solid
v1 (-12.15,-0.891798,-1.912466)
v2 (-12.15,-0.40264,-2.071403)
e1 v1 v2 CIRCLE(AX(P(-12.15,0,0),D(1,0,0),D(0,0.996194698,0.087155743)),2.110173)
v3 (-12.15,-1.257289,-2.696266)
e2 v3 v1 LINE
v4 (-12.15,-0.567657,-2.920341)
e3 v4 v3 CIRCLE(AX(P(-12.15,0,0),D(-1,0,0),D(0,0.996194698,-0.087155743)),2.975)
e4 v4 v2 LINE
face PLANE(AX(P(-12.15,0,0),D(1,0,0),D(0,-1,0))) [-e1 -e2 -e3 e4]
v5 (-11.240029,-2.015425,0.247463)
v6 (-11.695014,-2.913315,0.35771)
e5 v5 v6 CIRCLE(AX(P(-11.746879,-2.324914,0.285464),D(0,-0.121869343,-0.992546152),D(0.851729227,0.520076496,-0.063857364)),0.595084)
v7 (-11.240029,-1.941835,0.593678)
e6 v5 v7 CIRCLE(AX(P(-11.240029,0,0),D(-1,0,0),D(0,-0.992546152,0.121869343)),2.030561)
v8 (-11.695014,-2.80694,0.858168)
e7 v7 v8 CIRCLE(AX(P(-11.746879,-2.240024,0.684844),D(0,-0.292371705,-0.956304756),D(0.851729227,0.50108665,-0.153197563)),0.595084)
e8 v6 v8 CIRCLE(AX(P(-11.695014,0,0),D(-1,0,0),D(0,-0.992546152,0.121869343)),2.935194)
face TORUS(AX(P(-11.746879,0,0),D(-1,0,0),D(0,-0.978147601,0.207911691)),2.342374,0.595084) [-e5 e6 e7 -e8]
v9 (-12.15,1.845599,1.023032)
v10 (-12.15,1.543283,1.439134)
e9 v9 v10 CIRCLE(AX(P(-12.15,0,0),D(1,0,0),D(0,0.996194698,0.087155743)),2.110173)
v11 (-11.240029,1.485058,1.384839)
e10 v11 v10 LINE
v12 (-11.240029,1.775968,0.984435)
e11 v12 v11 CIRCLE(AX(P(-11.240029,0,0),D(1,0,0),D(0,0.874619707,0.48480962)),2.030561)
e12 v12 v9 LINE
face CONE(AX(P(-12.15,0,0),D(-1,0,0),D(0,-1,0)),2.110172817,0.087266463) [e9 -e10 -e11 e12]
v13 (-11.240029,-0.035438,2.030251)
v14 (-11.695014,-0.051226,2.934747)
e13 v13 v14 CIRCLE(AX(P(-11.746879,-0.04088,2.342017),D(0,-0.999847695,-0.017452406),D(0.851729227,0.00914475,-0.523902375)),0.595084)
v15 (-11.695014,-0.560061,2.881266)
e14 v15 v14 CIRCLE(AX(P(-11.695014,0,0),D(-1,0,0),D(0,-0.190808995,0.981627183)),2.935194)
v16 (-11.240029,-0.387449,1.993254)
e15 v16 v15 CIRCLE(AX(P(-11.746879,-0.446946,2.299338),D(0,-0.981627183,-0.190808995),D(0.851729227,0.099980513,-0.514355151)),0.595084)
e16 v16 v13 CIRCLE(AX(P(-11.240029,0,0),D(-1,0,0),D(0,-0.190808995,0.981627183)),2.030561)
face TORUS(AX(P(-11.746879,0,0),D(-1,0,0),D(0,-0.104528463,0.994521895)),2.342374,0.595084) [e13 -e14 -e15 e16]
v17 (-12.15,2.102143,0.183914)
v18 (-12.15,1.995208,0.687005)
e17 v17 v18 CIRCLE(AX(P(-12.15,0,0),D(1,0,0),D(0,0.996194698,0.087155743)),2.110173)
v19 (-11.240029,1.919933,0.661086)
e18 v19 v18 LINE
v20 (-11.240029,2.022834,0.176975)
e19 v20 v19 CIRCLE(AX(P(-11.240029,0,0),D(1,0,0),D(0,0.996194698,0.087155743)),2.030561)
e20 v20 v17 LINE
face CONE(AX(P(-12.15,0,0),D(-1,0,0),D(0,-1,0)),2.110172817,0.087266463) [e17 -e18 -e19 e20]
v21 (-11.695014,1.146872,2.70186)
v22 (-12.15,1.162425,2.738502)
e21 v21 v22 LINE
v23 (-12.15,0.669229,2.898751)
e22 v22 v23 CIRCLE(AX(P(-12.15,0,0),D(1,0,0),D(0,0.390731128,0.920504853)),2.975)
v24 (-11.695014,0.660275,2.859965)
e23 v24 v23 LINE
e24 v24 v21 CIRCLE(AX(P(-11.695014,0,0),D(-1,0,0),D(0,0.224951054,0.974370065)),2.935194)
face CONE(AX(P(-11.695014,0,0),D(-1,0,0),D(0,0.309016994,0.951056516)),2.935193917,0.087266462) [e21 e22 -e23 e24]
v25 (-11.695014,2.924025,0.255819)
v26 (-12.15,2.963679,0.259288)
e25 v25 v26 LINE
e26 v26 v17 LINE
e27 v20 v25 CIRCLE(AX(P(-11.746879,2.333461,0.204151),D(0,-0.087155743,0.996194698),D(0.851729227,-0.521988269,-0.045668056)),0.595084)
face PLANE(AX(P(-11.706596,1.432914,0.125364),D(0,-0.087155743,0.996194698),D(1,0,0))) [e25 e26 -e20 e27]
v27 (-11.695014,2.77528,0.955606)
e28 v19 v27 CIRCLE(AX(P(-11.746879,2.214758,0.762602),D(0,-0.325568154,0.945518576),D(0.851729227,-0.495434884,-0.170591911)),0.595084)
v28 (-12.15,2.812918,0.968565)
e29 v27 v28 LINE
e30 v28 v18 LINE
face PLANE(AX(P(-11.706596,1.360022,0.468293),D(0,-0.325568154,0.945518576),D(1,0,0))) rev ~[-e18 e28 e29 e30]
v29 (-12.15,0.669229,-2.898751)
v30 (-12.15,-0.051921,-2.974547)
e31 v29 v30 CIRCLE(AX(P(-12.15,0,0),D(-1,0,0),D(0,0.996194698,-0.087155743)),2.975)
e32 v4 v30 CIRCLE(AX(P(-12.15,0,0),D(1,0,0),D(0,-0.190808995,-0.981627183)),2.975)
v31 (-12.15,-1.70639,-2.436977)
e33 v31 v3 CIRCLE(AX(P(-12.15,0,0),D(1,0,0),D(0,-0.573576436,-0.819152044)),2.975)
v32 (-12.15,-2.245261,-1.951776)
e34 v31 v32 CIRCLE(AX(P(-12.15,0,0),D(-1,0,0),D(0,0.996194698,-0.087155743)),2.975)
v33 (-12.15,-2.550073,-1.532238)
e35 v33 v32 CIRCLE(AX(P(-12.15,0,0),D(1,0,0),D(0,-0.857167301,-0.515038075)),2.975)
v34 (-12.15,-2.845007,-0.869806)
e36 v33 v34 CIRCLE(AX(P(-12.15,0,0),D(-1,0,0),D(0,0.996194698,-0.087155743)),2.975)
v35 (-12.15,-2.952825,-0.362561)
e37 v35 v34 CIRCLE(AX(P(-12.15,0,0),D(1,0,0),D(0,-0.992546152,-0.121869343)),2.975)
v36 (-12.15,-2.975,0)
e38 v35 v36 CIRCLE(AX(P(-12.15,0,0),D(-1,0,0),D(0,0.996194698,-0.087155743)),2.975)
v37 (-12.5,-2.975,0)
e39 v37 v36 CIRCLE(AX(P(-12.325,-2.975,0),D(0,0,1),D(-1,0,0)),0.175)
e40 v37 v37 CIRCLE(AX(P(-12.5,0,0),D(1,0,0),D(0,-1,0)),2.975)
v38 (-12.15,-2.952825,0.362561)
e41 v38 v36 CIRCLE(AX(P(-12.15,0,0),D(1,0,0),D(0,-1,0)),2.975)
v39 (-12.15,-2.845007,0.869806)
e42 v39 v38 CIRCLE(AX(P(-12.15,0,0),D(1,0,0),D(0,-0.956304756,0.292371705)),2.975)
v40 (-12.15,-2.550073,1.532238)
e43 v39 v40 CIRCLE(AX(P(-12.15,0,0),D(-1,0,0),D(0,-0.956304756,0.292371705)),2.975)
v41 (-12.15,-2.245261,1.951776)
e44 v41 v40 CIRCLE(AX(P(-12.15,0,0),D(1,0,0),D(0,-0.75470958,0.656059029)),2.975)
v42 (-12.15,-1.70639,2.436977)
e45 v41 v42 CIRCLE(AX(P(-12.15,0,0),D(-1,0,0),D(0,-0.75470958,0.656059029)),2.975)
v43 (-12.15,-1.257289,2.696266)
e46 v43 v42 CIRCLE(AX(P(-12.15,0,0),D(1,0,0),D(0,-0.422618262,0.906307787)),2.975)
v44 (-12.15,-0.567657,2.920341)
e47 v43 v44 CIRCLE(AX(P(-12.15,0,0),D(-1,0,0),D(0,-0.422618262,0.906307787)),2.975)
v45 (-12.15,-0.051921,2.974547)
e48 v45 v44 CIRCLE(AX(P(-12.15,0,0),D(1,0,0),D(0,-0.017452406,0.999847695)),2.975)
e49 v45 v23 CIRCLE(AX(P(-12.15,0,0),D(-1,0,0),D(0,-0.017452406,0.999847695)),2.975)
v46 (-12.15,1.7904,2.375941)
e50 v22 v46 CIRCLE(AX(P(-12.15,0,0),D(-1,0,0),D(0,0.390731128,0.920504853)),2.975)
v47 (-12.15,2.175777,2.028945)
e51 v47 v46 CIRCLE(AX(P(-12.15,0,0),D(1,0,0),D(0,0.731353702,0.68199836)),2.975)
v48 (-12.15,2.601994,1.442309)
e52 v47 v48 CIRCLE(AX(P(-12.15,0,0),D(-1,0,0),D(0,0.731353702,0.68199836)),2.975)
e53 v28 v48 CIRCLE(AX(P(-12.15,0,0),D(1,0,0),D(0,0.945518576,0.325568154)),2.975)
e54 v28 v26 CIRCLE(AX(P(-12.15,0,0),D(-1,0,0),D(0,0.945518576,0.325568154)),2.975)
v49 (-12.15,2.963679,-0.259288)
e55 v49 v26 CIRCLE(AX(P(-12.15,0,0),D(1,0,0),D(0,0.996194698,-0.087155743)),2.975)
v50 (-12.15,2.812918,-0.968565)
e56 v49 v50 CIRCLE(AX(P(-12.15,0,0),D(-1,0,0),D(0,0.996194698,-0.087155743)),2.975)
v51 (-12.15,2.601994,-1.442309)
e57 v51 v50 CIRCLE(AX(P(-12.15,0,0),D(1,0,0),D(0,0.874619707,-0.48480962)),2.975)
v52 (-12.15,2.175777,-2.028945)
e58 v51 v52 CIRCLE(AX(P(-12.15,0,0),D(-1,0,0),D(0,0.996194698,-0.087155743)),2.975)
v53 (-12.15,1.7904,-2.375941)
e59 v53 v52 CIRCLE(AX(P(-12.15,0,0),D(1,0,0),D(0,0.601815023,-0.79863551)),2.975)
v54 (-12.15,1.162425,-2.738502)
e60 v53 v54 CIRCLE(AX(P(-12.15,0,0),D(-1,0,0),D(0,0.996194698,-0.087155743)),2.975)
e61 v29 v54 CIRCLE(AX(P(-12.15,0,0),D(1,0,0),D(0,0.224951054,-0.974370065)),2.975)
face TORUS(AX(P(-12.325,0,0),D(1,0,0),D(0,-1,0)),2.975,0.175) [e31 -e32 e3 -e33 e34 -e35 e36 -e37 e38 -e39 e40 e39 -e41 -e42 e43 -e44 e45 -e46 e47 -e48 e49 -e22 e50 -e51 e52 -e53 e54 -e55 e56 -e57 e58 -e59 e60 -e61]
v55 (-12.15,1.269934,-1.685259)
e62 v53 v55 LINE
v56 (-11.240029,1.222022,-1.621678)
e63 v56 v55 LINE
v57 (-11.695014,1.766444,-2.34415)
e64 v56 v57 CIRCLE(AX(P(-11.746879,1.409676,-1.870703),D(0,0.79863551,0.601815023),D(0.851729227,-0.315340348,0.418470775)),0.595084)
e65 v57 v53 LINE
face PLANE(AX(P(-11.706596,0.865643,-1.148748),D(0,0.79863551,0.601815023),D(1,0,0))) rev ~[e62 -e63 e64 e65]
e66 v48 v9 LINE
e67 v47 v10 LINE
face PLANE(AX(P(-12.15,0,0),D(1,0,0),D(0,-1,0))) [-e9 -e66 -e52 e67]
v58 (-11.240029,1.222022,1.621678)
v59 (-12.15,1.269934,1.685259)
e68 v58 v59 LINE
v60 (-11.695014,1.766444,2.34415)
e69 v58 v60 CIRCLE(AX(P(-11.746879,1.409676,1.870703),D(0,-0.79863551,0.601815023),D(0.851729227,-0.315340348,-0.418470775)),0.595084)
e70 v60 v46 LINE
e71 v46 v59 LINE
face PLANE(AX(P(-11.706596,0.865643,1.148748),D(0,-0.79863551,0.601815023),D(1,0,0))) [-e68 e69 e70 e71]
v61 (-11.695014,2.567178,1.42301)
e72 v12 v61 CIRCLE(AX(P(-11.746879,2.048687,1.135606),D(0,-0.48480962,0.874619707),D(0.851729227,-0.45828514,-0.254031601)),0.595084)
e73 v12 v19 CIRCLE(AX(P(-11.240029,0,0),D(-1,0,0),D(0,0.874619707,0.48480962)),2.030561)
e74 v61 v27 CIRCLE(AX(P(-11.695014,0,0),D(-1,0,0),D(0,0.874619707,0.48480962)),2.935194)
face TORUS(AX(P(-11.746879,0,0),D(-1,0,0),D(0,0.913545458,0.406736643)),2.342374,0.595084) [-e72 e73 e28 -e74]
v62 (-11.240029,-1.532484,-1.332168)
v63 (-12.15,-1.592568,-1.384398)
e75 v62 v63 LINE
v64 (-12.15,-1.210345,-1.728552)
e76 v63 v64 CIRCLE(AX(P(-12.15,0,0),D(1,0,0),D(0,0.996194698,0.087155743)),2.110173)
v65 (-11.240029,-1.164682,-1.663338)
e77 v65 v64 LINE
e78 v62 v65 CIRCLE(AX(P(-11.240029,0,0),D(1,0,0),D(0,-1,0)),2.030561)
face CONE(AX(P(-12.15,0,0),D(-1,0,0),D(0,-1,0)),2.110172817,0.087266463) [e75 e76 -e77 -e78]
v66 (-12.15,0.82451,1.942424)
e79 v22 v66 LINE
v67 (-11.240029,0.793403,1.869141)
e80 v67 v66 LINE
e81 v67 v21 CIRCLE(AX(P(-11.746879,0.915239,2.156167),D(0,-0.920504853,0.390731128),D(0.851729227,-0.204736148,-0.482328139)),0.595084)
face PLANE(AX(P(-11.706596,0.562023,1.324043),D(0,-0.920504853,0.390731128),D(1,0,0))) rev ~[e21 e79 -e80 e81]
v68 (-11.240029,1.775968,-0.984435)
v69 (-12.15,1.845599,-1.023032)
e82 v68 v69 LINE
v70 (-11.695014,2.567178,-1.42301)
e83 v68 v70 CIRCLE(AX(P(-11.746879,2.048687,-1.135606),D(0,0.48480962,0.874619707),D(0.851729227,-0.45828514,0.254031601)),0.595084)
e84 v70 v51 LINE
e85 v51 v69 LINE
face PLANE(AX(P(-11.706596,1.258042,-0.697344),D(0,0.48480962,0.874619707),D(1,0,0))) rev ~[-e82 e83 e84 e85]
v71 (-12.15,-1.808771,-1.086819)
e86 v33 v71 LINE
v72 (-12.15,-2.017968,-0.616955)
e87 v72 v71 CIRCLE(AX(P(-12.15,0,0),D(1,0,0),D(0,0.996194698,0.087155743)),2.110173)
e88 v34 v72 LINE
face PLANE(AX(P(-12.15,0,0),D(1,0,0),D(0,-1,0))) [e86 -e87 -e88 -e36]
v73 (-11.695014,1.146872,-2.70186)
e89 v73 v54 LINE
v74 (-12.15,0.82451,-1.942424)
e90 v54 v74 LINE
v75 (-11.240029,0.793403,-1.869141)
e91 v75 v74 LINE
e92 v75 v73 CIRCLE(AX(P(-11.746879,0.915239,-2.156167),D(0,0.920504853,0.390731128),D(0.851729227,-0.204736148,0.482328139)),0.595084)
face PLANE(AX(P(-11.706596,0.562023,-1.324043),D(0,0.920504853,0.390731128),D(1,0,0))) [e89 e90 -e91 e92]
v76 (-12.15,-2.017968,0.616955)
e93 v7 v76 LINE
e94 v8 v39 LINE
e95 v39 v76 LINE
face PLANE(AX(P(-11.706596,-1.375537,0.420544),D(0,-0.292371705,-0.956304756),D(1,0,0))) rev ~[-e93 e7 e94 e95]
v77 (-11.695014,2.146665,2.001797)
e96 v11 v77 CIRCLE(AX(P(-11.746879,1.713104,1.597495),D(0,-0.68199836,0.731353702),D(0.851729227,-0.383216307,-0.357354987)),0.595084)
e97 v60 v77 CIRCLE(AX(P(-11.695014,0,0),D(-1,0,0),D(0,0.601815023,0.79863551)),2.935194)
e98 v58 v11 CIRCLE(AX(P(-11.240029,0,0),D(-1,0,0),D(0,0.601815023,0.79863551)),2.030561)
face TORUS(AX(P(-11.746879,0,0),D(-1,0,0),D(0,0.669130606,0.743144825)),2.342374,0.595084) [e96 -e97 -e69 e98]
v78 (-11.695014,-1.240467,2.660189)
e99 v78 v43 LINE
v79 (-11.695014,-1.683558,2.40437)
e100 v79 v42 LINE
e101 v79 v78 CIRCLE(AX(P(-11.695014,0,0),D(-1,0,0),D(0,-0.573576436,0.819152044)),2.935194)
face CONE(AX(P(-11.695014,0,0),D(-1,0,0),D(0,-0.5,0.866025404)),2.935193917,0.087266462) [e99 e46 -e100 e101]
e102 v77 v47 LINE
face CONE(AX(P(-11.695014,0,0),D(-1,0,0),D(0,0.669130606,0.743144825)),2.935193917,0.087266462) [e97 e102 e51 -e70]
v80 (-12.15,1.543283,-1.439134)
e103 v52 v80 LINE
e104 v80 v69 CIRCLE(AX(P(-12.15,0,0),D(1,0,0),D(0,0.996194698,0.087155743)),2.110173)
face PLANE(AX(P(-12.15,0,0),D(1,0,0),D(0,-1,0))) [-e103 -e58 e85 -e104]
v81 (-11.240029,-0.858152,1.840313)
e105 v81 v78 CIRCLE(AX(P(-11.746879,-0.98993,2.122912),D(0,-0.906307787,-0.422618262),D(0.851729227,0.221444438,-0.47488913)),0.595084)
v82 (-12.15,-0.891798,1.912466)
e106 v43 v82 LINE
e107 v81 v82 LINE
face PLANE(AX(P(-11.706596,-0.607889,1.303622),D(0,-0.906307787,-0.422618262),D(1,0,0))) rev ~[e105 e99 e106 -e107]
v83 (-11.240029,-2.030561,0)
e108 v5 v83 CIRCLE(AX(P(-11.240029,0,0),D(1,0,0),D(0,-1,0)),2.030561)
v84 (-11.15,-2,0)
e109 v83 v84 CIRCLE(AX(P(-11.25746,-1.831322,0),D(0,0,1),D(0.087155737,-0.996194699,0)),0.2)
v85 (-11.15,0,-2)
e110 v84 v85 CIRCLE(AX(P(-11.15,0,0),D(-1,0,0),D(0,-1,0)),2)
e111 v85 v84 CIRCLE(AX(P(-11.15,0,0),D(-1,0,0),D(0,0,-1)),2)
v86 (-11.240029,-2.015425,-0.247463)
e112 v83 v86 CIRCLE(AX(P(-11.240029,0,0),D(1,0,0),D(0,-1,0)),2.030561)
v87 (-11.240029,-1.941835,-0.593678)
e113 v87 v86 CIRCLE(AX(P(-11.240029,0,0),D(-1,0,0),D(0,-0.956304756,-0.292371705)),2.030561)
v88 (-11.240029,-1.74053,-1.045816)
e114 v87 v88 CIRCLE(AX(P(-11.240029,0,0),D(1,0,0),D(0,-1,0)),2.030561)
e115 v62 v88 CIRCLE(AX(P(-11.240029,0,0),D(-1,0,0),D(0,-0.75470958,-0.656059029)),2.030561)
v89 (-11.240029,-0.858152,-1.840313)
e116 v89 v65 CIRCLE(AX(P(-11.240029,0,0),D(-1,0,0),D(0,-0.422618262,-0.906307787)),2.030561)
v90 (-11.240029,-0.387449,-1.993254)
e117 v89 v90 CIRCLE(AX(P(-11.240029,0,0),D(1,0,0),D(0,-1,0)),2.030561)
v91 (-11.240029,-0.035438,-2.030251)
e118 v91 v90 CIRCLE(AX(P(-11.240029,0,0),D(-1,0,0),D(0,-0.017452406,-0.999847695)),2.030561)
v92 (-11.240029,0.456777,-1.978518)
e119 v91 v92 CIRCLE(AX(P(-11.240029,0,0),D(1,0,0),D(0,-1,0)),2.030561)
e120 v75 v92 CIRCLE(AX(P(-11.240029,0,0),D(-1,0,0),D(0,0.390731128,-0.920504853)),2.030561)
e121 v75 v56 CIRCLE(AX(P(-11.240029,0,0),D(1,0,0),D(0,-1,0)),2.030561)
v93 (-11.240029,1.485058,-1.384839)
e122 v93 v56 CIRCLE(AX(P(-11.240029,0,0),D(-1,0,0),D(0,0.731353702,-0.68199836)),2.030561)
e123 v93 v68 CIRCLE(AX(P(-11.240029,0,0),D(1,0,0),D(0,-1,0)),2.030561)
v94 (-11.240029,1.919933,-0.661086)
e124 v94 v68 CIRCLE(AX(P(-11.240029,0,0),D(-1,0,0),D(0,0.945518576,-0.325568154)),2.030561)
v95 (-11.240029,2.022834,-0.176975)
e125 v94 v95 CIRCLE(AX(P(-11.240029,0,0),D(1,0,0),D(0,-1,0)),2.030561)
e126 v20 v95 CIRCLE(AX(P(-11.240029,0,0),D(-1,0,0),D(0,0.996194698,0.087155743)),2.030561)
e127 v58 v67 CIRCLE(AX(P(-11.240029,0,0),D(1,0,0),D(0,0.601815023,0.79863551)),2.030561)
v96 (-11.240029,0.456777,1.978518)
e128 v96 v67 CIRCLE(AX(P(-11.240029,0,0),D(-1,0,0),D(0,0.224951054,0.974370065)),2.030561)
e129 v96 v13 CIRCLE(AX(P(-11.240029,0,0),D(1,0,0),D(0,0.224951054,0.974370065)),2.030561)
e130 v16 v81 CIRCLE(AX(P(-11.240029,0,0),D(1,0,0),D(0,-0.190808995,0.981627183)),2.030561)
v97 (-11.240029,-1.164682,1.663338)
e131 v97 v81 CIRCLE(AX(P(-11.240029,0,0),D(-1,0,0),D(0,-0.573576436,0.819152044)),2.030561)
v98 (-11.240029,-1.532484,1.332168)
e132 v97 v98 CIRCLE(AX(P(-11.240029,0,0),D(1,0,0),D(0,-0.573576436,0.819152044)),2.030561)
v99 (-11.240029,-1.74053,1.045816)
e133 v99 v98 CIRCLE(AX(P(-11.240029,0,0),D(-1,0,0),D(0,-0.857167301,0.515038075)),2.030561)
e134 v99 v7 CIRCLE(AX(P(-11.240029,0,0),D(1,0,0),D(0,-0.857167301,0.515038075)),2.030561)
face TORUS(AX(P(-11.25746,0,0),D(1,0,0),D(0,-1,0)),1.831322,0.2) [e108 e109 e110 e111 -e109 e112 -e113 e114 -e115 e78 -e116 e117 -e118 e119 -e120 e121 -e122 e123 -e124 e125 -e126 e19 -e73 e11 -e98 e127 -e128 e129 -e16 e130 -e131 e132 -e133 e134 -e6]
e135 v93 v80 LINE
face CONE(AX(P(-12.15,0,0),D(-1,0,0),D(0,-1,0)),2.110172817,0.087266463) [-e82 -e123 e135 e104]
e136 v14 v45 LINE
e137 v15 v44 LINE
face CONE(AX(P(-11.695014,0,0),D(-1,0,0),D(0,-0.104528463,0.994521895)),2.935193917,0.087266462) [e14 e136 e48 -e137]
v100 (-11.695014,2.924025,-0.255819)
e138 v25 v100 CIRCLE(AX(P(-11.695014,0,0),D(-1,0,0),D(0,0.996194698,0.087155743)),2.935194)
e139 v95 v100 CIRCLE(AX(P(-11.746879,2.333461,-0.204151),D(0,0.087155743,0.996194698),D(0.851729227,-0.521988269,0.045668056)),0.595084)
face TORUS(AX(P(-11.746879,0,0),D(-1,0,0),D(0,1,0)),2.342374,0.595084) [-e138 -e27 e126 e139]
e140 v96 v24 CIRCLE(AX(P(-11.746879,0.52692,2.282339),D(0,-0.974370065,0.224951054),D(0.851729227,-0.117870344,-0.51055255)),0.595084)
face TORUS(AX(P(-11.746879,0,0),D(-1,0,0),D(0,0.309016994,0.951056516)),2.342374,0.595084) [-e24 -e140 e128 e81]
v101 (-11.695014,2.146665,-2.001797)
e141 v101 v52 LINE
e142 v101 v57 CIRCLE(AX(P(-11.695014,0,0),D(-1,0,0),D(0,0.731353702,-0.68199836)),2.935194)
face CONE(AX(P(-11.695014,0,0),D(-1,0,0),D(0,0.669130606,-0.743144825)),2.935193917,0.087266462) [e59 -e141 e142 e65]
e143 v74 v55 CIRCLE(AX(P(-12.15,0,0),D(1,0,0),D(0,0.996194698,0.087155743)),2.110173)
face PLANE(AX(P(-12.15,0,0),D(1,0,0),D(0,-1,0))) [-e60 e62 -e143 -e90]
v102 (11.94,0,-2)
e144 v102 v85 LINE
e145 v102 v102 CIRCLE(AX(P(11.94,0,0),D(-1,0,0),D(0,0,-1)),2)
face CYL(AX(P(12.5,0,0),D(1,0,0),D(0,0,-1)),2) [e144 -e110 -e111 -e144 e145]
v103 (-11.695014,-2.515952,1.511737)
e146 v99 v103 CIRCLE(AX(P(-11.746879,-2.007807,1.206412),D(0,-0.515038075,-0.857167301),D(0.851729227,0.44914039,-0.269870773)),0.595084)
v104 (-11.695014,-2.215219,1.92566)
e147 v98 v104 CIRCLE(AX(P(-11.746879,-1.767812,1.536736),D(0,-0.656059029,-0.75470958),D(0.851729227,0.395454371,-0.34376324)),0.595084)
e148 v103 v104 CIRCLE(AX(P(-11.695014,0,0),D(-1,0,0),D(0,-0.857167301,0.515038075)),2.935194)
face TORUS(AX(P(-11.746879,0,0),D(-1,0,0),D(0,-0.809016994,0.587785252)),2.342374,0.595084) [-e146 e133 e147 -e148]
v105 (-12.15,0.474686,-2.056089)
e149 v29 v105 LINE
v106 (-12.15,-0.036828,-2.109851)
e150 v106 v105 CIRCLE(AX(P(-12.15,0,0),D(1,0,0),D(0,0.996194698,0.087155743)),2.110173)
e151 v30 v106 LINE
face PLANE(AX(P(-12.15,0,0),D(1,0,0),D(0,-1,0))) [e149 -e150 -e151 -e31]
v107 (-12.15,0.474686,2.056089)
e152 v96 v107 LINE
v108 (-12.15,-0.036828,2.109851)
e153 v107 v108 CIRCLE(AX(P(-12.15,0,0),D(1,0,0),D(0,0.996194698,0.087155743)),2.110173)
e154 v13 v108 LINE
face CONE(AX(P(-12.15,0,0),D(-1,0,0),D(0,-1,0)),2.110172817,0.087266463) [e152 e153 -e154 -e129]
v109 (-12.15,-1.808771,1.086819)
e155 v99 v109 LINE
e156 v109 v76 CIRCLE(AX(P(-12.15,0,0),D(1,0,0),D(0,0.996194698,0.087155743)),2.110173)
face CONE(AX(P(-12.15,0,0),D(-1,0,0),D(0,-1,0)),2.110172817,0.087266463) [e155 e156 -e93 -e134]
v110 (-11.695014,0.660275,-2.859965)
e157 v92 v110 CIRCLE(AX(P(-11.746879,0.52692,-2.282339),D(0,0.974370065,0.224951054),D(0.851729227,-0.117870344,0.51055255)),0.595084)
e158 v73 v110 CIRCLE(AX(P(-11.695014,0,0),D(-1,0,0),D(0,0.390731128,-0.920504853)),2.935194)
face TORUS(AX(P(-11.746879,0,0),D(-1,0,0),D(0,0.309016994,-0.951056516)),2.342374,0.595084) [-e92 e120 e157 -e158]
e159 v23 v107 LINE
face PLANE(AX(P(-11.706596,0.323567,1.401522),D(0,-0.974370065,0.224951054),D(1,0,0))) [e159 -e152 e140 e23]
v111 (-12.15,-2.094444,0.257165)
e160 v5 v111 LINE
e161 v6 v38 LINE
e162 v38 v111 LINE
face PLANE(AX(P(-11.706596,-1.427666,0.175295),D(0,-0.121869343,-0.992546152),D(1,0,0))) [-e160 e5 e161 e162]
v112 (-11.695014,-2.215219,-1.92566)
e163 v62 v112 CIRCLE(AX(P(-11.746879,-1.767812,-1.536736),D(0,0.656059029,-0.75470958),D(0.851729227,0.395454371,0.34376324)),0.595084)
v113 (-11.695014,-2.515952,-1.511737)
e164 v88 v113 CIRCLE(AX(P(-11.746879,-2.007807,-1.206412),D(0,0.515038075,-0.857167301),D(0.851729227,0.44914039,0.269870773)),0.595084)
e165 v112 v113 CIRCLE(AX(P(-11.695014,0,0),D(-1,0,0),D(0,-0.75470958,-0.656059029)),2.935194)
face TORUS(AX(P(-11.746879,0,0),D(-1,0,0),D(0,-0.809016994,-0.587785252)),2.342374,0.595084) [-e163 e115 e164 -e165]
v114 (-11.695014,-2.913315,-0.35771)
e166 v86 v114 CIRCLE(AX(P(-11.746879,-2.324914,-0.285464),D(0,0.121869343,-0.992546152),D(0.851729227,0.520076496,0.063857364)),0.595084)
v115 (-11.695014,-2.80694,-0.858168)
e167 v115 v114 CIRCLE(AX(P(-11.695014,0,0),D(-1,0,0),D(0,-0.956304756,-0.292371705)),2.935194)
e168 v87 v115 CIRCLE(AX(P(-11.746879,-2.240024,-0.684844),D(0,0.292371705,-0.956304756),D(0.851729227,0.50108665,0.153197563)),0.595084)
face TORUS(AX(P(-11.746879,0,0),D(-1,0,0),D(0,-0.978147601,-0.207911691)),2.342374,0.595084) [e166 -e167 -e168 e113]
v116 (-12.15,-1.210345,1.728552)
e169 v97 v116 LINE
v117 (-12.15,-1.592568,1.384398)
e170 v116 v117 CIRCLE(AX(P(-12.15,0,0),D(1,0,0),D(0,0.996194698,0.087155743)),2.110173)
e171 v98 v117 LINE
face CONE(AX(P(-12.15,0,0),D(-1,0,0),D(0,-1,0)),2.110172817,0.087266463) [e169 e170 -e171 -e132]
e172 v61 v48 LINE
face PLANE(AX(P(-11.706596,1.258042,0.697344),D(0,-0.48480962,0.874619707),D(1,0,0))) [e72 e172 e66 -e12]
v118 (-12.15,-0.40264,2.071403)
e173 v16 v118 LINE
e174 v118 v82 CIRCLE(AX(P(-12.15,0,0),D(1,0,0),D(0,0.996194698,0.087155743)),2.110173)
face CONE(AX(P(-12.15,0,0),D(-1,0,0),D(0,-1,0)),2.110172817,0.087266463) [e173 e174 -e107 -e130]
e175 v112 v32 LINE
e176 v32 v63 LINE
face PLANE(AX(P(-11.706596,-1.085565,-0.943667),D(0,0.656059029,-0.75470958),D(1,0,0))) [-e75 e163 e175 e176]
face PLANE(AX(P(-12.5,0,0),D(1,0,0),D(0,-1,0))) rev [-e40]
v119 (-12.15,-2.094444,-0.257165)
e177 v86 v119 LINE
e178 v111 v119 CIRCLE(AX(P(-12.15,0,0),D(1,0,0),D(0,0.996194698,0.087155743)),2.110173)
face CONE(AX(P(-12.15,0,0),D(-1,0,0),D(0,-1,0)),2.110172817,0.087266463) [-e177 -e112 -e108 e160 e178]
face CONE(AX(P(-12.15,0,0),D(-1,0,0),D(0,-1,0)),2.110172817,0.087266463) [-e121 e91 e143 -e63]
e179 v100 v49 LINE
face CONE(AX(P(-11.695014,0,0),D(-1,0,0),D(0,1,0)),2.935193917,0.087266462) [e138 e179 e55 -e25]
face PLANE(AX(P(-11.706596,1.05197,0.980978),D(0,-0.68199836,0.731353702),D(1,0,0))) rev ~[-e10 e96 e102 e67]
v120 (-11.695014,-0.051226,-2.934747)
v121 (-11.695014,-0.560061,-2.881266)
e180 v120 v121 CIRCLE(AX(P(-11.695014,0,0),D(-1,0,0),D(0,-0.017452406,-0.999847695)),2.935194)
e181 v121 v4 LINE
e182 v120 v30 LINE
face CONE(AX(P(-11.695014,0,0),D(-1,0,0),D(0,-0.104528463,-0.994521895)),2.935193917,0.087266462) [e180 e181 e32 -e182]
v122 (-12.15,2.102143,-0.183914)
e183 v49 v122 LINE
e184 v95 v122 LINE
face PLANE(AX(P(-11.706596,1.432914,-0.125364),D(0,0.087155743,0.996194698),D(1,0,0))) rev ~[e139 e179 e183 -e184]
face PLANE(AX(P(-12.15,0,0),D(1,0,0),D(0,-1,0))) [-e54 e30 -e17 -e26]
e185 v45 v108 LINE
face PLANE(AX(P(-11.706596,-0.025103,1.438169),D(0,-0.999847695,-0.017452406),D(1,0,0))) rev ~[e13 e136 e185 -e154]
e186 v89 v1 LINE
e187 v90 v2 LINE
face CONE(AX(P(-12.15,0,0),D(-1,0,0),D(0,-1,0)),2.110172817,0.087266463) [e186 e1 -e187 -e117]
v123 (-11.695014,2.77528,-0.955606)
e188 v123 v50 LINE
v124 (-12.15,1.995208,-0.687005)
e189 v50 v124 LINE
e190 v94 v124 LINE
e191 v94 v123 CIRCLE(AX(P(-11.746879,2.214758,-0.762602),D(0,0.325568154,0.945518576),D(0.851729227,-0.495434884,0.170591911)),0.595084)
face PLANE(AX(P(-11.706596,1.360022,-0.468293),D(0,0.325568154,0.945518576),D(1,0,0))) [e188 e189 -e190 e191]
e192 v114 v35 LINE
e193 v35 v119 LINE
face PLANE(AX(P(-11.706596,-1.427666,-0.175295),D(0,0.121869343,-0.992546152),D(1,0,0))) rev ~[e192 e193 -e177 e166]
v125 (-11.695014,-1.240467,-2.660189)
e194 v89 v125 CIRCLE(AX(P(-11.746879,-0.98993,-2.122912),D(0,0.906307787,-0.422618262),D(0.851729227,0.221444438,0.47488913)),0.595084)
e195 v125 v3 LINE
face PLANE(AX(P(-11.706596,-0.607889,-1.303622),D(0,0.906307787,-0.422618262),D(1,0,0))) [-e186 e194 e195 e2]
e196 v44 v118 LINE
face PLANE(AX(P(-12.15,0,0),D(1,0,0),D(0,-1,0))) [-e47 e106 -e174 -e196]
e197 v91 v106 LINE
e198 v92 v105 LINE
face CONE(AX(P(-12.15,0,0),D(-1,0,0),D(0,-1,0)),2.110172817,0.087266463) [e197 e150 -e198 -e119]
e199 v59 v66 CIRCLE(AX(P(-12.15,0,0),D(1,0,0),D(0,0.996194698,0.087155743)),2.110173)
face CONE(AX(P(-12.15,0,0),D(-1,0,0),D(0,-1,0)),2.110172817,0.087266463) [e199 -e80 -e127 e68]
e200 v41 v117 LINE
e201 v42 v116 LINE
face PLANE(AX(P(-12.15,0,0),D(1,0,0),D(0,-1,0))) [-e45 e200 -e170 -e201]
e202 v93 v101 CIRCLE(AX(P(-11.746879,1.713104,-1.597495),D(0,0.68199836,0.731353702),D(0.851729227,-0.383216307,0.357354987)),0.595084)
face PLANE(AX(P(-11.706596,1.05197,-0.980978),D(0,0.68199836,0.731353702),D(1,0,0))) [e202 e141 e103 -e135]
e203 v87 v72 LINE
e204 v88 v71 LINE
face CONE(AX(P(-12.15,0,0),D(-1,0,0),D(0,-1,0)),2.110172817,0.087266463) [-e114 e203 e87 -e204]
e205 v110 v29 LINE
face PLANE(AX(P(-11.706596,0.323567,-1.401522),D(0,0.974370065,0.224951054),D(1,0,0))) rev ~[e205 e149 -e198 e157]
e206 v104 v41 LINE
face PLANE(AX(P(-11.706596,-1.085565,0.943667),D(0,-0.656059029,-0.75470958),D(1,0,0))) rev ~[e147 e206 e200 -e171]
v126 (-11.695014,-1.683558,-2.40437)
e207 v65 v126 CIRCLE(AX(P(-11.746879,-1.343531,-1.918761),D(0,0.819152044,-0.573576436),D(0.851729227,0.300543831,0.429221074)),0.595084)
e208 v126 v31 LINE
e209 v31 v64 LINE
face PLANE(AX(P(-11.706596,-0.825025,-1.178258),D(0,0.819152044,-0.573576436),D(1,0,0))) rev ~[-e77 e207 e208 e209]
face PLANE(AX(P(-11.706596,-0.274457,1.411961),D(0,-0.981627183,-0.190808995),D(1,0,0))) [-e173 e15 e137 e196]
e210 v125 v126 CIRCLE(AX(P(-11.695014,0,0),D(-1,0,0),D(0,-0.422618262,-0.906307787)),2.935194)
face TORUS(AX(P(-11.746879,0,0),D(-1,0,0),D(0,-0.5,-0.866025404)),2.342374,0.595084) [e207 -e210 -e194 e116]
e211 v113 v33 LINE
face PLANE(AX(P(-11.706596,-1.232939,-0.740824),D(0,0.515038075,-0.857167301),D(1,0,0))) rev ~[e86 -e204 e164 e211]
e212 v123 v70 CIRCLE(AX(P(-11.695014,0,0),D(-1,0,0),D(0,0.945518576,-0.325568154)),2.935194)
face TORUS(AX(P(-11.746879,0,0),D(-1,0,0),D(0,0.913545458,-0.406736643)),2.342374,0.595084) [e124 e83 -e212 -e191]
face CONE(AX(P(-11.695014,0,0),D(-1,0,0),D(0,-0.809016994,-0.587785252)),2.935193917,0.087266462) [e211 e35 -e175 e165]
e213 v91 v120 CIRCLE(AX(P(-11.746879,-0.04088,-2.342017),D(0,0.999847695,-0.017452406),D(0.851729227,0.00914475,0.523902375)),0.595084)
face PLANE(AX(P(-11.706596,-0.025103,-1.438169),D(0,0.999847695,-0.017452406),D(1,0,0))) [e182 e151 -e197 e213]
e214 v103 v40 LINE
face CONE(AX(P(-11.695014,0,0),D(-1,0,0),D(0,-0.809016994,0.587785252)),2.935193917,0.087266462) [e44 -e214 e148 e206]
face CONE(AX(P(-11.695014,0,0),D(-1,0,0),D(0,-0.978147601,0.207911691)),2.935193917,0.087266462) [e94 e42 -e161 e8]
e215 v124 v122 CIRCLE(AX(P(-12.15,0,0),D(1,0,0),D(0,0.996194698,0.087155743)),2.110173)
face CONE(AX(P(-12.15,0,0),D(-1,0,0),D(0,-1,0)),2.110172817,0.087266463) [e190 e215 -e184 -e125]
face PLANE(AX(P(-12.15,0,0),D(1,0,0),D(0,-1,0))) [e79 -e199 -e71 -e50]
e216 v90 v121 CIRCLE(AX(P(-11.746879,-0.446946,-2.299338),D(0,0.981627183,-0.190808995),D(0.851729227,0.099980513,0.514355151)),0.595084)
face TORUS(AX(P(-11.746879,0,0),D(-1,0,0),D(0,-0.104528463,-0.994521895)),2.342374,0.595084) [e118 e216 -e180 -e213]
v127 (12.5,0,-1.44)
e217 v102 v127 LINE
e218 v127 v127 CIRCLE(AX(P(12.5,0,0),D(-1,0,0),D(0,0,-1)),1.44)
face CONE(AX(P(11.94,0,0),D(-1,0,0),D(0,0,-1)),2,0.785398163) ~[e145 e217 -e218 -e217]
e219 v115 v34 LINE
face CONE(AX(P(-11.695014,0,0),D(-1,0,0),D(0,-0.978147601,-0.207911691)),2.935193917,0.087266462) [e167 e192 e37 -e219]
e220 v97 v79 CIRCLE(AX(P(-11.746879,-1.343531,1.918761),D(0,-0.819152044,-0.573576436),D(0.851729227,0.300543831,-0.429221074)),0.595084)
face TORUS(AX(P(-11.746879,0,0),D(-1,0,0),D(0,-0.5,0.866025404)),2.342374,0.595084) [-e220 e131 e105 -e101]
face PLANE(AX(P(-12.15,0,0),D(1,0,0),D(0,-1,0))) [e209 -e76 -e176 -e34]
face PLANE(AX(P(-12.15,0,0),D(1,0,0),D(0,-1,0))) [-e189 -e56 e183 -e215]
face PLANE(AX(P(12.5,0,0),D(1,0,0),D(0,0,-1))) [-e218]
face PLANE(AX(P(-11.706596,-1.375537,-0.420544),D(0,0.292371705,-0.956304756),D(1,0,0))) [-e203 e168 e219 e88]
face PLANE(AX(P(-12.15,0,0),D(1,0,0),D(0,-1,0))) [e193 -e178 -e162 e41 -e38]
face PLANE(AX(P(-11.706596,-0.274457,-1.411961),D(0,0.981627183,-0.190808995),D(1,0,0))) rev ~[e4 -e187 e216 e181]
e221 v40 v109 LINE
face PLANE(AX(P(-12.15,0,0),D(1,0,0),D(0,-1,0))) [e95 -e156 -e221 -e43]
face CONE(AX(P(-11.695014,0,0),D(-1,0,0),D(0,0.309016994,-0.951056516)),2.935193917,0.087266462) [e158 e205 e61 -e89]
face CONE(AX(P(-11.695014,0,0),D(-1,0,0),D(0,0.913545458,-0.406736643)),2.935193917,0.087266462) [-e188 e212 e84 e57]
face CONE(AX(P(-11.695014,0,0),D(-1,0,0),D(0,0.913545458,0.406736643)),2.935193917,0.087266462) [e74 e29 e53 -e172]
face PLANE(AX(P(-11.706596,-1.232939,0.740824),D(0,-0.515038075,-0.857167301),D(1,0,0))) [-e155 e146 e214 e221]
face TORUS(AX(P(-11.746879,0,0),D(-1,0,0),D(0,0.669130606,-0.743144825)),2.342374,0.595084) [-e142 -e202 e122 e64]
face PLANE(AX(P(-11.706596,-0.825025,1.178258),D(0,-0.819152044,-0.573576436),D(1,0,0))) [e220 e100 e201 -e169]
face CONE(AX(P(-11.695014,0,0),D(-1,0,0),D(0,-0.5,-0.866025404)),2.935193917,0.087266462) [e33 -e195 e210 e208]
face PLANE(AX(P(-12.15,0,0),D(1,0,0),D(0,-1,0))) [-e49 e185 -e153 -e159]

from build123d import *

# Parameters (mm, degrees)
BOSS_EXTRUDE1_START = 12.5
SKETCH2_R           = 2
BOSS_EXTRUDE1_DEPTH = 25
REVOLVE2_ANGLE      = 10
CIRPATTERN1_COUNT   = 15
CHAMFER1_SIZE       = 0.56


with BuildPart() as part:
    # Sketch2 → Boss-Extrude1 (new body)
    with BuildSketch(Plane(origin=(0, 0, 0), x_dir=(0, 0, -1), z_dir=(1, 0, 0)).offset(BOSS_EXTRUDE1_START)):
        Circle(SKETCH2_R)
    extrude(amount=-BOSS_EXTRUDE1_DEPTH)

    # Sketch5 → Revolve1 (revolve)
    with BuildSketch(Plane.XY, mode=Mode.PRIVATE) as revolve1_sk:
        with BuildLine():
            Line((-12.5, 0), (-12.5, 2.975))
            ThreePointArc((-12.5, 2.975), (-12.325, 3.15), (-12.15, 2.975))
            Line((-12.15, 2.975), (-12.15, 2.110172817))
            Line((-12.15, 2.110172817), (-11.240028773, 2.03056065))
            ThreePointArc((-11.240028773, 2.03056065), (-11.15, 2), (-11.084254841, 1.931321711))
            Line((-11.084254841, 1.931321711), (-9.969205731, 0))
            Line((-9.969205731, 0), (-12.5, 0))
        make_face()
    revolve(revolve1_sk.sketch.rotate(Axis((-12.5, 0, 0), (1, 0, 0)), 180), axis=Axis((-12.5, 0, 0), (1, 0, 0)))

    # Sketch6 → Revolve2 (revolve, symmetric)
    with BuildSketch(Plane.XY) as revolve2_sk:
        with BuildLine():
            Line((-12.15, 2.975), (-12.15, 0))
            Line((-12.15, 0), (-11.240028773, 0))
            Line((-11.240028773, 0), (-11.240028773, 2.03056065))
            ThreePointArc((-11.240028773, 2.03056065), (-11.215248765, 2.609757983), (-11.695014387, 2.935193917))
            Line((-11.695014387, 2.935193917), (-12.15, 2.975))
        make_face()
    revolve(axis=Axis((-12.15, 0, 0), (1, 0, 0)), revolution_arc=REVOLVE2_ANGLE / 2)
    revolve(revolve2_sk.sketch, axis=Axis((-12.15, 0, 0), (-1, 0, 0)), revolution_arc=REVOLVE2_ANGLE / 2)

    # CirPattern1: part ×15 about axis
    cirpattern1_axis = Axis((0, 0, 0), (1, 0, 0))


with BuildPart() as part_1:
    add(part.part)
    for i in range(1, CIRPATTERN1_COUNT):
        add(part.part.rotate(cirpattern1_axis, i * 360 / CIRPATTERN1_COUNT))

    # Chamfer1
    chamfer1_edges = [part_1.edges().sort_by_distance(p)[0] for p in [
        (12.5, 0, 2),
    ]]
    chamfer(chamfer1_edges, length=CHAMFER1_SIZE)


solid = part_1.part
